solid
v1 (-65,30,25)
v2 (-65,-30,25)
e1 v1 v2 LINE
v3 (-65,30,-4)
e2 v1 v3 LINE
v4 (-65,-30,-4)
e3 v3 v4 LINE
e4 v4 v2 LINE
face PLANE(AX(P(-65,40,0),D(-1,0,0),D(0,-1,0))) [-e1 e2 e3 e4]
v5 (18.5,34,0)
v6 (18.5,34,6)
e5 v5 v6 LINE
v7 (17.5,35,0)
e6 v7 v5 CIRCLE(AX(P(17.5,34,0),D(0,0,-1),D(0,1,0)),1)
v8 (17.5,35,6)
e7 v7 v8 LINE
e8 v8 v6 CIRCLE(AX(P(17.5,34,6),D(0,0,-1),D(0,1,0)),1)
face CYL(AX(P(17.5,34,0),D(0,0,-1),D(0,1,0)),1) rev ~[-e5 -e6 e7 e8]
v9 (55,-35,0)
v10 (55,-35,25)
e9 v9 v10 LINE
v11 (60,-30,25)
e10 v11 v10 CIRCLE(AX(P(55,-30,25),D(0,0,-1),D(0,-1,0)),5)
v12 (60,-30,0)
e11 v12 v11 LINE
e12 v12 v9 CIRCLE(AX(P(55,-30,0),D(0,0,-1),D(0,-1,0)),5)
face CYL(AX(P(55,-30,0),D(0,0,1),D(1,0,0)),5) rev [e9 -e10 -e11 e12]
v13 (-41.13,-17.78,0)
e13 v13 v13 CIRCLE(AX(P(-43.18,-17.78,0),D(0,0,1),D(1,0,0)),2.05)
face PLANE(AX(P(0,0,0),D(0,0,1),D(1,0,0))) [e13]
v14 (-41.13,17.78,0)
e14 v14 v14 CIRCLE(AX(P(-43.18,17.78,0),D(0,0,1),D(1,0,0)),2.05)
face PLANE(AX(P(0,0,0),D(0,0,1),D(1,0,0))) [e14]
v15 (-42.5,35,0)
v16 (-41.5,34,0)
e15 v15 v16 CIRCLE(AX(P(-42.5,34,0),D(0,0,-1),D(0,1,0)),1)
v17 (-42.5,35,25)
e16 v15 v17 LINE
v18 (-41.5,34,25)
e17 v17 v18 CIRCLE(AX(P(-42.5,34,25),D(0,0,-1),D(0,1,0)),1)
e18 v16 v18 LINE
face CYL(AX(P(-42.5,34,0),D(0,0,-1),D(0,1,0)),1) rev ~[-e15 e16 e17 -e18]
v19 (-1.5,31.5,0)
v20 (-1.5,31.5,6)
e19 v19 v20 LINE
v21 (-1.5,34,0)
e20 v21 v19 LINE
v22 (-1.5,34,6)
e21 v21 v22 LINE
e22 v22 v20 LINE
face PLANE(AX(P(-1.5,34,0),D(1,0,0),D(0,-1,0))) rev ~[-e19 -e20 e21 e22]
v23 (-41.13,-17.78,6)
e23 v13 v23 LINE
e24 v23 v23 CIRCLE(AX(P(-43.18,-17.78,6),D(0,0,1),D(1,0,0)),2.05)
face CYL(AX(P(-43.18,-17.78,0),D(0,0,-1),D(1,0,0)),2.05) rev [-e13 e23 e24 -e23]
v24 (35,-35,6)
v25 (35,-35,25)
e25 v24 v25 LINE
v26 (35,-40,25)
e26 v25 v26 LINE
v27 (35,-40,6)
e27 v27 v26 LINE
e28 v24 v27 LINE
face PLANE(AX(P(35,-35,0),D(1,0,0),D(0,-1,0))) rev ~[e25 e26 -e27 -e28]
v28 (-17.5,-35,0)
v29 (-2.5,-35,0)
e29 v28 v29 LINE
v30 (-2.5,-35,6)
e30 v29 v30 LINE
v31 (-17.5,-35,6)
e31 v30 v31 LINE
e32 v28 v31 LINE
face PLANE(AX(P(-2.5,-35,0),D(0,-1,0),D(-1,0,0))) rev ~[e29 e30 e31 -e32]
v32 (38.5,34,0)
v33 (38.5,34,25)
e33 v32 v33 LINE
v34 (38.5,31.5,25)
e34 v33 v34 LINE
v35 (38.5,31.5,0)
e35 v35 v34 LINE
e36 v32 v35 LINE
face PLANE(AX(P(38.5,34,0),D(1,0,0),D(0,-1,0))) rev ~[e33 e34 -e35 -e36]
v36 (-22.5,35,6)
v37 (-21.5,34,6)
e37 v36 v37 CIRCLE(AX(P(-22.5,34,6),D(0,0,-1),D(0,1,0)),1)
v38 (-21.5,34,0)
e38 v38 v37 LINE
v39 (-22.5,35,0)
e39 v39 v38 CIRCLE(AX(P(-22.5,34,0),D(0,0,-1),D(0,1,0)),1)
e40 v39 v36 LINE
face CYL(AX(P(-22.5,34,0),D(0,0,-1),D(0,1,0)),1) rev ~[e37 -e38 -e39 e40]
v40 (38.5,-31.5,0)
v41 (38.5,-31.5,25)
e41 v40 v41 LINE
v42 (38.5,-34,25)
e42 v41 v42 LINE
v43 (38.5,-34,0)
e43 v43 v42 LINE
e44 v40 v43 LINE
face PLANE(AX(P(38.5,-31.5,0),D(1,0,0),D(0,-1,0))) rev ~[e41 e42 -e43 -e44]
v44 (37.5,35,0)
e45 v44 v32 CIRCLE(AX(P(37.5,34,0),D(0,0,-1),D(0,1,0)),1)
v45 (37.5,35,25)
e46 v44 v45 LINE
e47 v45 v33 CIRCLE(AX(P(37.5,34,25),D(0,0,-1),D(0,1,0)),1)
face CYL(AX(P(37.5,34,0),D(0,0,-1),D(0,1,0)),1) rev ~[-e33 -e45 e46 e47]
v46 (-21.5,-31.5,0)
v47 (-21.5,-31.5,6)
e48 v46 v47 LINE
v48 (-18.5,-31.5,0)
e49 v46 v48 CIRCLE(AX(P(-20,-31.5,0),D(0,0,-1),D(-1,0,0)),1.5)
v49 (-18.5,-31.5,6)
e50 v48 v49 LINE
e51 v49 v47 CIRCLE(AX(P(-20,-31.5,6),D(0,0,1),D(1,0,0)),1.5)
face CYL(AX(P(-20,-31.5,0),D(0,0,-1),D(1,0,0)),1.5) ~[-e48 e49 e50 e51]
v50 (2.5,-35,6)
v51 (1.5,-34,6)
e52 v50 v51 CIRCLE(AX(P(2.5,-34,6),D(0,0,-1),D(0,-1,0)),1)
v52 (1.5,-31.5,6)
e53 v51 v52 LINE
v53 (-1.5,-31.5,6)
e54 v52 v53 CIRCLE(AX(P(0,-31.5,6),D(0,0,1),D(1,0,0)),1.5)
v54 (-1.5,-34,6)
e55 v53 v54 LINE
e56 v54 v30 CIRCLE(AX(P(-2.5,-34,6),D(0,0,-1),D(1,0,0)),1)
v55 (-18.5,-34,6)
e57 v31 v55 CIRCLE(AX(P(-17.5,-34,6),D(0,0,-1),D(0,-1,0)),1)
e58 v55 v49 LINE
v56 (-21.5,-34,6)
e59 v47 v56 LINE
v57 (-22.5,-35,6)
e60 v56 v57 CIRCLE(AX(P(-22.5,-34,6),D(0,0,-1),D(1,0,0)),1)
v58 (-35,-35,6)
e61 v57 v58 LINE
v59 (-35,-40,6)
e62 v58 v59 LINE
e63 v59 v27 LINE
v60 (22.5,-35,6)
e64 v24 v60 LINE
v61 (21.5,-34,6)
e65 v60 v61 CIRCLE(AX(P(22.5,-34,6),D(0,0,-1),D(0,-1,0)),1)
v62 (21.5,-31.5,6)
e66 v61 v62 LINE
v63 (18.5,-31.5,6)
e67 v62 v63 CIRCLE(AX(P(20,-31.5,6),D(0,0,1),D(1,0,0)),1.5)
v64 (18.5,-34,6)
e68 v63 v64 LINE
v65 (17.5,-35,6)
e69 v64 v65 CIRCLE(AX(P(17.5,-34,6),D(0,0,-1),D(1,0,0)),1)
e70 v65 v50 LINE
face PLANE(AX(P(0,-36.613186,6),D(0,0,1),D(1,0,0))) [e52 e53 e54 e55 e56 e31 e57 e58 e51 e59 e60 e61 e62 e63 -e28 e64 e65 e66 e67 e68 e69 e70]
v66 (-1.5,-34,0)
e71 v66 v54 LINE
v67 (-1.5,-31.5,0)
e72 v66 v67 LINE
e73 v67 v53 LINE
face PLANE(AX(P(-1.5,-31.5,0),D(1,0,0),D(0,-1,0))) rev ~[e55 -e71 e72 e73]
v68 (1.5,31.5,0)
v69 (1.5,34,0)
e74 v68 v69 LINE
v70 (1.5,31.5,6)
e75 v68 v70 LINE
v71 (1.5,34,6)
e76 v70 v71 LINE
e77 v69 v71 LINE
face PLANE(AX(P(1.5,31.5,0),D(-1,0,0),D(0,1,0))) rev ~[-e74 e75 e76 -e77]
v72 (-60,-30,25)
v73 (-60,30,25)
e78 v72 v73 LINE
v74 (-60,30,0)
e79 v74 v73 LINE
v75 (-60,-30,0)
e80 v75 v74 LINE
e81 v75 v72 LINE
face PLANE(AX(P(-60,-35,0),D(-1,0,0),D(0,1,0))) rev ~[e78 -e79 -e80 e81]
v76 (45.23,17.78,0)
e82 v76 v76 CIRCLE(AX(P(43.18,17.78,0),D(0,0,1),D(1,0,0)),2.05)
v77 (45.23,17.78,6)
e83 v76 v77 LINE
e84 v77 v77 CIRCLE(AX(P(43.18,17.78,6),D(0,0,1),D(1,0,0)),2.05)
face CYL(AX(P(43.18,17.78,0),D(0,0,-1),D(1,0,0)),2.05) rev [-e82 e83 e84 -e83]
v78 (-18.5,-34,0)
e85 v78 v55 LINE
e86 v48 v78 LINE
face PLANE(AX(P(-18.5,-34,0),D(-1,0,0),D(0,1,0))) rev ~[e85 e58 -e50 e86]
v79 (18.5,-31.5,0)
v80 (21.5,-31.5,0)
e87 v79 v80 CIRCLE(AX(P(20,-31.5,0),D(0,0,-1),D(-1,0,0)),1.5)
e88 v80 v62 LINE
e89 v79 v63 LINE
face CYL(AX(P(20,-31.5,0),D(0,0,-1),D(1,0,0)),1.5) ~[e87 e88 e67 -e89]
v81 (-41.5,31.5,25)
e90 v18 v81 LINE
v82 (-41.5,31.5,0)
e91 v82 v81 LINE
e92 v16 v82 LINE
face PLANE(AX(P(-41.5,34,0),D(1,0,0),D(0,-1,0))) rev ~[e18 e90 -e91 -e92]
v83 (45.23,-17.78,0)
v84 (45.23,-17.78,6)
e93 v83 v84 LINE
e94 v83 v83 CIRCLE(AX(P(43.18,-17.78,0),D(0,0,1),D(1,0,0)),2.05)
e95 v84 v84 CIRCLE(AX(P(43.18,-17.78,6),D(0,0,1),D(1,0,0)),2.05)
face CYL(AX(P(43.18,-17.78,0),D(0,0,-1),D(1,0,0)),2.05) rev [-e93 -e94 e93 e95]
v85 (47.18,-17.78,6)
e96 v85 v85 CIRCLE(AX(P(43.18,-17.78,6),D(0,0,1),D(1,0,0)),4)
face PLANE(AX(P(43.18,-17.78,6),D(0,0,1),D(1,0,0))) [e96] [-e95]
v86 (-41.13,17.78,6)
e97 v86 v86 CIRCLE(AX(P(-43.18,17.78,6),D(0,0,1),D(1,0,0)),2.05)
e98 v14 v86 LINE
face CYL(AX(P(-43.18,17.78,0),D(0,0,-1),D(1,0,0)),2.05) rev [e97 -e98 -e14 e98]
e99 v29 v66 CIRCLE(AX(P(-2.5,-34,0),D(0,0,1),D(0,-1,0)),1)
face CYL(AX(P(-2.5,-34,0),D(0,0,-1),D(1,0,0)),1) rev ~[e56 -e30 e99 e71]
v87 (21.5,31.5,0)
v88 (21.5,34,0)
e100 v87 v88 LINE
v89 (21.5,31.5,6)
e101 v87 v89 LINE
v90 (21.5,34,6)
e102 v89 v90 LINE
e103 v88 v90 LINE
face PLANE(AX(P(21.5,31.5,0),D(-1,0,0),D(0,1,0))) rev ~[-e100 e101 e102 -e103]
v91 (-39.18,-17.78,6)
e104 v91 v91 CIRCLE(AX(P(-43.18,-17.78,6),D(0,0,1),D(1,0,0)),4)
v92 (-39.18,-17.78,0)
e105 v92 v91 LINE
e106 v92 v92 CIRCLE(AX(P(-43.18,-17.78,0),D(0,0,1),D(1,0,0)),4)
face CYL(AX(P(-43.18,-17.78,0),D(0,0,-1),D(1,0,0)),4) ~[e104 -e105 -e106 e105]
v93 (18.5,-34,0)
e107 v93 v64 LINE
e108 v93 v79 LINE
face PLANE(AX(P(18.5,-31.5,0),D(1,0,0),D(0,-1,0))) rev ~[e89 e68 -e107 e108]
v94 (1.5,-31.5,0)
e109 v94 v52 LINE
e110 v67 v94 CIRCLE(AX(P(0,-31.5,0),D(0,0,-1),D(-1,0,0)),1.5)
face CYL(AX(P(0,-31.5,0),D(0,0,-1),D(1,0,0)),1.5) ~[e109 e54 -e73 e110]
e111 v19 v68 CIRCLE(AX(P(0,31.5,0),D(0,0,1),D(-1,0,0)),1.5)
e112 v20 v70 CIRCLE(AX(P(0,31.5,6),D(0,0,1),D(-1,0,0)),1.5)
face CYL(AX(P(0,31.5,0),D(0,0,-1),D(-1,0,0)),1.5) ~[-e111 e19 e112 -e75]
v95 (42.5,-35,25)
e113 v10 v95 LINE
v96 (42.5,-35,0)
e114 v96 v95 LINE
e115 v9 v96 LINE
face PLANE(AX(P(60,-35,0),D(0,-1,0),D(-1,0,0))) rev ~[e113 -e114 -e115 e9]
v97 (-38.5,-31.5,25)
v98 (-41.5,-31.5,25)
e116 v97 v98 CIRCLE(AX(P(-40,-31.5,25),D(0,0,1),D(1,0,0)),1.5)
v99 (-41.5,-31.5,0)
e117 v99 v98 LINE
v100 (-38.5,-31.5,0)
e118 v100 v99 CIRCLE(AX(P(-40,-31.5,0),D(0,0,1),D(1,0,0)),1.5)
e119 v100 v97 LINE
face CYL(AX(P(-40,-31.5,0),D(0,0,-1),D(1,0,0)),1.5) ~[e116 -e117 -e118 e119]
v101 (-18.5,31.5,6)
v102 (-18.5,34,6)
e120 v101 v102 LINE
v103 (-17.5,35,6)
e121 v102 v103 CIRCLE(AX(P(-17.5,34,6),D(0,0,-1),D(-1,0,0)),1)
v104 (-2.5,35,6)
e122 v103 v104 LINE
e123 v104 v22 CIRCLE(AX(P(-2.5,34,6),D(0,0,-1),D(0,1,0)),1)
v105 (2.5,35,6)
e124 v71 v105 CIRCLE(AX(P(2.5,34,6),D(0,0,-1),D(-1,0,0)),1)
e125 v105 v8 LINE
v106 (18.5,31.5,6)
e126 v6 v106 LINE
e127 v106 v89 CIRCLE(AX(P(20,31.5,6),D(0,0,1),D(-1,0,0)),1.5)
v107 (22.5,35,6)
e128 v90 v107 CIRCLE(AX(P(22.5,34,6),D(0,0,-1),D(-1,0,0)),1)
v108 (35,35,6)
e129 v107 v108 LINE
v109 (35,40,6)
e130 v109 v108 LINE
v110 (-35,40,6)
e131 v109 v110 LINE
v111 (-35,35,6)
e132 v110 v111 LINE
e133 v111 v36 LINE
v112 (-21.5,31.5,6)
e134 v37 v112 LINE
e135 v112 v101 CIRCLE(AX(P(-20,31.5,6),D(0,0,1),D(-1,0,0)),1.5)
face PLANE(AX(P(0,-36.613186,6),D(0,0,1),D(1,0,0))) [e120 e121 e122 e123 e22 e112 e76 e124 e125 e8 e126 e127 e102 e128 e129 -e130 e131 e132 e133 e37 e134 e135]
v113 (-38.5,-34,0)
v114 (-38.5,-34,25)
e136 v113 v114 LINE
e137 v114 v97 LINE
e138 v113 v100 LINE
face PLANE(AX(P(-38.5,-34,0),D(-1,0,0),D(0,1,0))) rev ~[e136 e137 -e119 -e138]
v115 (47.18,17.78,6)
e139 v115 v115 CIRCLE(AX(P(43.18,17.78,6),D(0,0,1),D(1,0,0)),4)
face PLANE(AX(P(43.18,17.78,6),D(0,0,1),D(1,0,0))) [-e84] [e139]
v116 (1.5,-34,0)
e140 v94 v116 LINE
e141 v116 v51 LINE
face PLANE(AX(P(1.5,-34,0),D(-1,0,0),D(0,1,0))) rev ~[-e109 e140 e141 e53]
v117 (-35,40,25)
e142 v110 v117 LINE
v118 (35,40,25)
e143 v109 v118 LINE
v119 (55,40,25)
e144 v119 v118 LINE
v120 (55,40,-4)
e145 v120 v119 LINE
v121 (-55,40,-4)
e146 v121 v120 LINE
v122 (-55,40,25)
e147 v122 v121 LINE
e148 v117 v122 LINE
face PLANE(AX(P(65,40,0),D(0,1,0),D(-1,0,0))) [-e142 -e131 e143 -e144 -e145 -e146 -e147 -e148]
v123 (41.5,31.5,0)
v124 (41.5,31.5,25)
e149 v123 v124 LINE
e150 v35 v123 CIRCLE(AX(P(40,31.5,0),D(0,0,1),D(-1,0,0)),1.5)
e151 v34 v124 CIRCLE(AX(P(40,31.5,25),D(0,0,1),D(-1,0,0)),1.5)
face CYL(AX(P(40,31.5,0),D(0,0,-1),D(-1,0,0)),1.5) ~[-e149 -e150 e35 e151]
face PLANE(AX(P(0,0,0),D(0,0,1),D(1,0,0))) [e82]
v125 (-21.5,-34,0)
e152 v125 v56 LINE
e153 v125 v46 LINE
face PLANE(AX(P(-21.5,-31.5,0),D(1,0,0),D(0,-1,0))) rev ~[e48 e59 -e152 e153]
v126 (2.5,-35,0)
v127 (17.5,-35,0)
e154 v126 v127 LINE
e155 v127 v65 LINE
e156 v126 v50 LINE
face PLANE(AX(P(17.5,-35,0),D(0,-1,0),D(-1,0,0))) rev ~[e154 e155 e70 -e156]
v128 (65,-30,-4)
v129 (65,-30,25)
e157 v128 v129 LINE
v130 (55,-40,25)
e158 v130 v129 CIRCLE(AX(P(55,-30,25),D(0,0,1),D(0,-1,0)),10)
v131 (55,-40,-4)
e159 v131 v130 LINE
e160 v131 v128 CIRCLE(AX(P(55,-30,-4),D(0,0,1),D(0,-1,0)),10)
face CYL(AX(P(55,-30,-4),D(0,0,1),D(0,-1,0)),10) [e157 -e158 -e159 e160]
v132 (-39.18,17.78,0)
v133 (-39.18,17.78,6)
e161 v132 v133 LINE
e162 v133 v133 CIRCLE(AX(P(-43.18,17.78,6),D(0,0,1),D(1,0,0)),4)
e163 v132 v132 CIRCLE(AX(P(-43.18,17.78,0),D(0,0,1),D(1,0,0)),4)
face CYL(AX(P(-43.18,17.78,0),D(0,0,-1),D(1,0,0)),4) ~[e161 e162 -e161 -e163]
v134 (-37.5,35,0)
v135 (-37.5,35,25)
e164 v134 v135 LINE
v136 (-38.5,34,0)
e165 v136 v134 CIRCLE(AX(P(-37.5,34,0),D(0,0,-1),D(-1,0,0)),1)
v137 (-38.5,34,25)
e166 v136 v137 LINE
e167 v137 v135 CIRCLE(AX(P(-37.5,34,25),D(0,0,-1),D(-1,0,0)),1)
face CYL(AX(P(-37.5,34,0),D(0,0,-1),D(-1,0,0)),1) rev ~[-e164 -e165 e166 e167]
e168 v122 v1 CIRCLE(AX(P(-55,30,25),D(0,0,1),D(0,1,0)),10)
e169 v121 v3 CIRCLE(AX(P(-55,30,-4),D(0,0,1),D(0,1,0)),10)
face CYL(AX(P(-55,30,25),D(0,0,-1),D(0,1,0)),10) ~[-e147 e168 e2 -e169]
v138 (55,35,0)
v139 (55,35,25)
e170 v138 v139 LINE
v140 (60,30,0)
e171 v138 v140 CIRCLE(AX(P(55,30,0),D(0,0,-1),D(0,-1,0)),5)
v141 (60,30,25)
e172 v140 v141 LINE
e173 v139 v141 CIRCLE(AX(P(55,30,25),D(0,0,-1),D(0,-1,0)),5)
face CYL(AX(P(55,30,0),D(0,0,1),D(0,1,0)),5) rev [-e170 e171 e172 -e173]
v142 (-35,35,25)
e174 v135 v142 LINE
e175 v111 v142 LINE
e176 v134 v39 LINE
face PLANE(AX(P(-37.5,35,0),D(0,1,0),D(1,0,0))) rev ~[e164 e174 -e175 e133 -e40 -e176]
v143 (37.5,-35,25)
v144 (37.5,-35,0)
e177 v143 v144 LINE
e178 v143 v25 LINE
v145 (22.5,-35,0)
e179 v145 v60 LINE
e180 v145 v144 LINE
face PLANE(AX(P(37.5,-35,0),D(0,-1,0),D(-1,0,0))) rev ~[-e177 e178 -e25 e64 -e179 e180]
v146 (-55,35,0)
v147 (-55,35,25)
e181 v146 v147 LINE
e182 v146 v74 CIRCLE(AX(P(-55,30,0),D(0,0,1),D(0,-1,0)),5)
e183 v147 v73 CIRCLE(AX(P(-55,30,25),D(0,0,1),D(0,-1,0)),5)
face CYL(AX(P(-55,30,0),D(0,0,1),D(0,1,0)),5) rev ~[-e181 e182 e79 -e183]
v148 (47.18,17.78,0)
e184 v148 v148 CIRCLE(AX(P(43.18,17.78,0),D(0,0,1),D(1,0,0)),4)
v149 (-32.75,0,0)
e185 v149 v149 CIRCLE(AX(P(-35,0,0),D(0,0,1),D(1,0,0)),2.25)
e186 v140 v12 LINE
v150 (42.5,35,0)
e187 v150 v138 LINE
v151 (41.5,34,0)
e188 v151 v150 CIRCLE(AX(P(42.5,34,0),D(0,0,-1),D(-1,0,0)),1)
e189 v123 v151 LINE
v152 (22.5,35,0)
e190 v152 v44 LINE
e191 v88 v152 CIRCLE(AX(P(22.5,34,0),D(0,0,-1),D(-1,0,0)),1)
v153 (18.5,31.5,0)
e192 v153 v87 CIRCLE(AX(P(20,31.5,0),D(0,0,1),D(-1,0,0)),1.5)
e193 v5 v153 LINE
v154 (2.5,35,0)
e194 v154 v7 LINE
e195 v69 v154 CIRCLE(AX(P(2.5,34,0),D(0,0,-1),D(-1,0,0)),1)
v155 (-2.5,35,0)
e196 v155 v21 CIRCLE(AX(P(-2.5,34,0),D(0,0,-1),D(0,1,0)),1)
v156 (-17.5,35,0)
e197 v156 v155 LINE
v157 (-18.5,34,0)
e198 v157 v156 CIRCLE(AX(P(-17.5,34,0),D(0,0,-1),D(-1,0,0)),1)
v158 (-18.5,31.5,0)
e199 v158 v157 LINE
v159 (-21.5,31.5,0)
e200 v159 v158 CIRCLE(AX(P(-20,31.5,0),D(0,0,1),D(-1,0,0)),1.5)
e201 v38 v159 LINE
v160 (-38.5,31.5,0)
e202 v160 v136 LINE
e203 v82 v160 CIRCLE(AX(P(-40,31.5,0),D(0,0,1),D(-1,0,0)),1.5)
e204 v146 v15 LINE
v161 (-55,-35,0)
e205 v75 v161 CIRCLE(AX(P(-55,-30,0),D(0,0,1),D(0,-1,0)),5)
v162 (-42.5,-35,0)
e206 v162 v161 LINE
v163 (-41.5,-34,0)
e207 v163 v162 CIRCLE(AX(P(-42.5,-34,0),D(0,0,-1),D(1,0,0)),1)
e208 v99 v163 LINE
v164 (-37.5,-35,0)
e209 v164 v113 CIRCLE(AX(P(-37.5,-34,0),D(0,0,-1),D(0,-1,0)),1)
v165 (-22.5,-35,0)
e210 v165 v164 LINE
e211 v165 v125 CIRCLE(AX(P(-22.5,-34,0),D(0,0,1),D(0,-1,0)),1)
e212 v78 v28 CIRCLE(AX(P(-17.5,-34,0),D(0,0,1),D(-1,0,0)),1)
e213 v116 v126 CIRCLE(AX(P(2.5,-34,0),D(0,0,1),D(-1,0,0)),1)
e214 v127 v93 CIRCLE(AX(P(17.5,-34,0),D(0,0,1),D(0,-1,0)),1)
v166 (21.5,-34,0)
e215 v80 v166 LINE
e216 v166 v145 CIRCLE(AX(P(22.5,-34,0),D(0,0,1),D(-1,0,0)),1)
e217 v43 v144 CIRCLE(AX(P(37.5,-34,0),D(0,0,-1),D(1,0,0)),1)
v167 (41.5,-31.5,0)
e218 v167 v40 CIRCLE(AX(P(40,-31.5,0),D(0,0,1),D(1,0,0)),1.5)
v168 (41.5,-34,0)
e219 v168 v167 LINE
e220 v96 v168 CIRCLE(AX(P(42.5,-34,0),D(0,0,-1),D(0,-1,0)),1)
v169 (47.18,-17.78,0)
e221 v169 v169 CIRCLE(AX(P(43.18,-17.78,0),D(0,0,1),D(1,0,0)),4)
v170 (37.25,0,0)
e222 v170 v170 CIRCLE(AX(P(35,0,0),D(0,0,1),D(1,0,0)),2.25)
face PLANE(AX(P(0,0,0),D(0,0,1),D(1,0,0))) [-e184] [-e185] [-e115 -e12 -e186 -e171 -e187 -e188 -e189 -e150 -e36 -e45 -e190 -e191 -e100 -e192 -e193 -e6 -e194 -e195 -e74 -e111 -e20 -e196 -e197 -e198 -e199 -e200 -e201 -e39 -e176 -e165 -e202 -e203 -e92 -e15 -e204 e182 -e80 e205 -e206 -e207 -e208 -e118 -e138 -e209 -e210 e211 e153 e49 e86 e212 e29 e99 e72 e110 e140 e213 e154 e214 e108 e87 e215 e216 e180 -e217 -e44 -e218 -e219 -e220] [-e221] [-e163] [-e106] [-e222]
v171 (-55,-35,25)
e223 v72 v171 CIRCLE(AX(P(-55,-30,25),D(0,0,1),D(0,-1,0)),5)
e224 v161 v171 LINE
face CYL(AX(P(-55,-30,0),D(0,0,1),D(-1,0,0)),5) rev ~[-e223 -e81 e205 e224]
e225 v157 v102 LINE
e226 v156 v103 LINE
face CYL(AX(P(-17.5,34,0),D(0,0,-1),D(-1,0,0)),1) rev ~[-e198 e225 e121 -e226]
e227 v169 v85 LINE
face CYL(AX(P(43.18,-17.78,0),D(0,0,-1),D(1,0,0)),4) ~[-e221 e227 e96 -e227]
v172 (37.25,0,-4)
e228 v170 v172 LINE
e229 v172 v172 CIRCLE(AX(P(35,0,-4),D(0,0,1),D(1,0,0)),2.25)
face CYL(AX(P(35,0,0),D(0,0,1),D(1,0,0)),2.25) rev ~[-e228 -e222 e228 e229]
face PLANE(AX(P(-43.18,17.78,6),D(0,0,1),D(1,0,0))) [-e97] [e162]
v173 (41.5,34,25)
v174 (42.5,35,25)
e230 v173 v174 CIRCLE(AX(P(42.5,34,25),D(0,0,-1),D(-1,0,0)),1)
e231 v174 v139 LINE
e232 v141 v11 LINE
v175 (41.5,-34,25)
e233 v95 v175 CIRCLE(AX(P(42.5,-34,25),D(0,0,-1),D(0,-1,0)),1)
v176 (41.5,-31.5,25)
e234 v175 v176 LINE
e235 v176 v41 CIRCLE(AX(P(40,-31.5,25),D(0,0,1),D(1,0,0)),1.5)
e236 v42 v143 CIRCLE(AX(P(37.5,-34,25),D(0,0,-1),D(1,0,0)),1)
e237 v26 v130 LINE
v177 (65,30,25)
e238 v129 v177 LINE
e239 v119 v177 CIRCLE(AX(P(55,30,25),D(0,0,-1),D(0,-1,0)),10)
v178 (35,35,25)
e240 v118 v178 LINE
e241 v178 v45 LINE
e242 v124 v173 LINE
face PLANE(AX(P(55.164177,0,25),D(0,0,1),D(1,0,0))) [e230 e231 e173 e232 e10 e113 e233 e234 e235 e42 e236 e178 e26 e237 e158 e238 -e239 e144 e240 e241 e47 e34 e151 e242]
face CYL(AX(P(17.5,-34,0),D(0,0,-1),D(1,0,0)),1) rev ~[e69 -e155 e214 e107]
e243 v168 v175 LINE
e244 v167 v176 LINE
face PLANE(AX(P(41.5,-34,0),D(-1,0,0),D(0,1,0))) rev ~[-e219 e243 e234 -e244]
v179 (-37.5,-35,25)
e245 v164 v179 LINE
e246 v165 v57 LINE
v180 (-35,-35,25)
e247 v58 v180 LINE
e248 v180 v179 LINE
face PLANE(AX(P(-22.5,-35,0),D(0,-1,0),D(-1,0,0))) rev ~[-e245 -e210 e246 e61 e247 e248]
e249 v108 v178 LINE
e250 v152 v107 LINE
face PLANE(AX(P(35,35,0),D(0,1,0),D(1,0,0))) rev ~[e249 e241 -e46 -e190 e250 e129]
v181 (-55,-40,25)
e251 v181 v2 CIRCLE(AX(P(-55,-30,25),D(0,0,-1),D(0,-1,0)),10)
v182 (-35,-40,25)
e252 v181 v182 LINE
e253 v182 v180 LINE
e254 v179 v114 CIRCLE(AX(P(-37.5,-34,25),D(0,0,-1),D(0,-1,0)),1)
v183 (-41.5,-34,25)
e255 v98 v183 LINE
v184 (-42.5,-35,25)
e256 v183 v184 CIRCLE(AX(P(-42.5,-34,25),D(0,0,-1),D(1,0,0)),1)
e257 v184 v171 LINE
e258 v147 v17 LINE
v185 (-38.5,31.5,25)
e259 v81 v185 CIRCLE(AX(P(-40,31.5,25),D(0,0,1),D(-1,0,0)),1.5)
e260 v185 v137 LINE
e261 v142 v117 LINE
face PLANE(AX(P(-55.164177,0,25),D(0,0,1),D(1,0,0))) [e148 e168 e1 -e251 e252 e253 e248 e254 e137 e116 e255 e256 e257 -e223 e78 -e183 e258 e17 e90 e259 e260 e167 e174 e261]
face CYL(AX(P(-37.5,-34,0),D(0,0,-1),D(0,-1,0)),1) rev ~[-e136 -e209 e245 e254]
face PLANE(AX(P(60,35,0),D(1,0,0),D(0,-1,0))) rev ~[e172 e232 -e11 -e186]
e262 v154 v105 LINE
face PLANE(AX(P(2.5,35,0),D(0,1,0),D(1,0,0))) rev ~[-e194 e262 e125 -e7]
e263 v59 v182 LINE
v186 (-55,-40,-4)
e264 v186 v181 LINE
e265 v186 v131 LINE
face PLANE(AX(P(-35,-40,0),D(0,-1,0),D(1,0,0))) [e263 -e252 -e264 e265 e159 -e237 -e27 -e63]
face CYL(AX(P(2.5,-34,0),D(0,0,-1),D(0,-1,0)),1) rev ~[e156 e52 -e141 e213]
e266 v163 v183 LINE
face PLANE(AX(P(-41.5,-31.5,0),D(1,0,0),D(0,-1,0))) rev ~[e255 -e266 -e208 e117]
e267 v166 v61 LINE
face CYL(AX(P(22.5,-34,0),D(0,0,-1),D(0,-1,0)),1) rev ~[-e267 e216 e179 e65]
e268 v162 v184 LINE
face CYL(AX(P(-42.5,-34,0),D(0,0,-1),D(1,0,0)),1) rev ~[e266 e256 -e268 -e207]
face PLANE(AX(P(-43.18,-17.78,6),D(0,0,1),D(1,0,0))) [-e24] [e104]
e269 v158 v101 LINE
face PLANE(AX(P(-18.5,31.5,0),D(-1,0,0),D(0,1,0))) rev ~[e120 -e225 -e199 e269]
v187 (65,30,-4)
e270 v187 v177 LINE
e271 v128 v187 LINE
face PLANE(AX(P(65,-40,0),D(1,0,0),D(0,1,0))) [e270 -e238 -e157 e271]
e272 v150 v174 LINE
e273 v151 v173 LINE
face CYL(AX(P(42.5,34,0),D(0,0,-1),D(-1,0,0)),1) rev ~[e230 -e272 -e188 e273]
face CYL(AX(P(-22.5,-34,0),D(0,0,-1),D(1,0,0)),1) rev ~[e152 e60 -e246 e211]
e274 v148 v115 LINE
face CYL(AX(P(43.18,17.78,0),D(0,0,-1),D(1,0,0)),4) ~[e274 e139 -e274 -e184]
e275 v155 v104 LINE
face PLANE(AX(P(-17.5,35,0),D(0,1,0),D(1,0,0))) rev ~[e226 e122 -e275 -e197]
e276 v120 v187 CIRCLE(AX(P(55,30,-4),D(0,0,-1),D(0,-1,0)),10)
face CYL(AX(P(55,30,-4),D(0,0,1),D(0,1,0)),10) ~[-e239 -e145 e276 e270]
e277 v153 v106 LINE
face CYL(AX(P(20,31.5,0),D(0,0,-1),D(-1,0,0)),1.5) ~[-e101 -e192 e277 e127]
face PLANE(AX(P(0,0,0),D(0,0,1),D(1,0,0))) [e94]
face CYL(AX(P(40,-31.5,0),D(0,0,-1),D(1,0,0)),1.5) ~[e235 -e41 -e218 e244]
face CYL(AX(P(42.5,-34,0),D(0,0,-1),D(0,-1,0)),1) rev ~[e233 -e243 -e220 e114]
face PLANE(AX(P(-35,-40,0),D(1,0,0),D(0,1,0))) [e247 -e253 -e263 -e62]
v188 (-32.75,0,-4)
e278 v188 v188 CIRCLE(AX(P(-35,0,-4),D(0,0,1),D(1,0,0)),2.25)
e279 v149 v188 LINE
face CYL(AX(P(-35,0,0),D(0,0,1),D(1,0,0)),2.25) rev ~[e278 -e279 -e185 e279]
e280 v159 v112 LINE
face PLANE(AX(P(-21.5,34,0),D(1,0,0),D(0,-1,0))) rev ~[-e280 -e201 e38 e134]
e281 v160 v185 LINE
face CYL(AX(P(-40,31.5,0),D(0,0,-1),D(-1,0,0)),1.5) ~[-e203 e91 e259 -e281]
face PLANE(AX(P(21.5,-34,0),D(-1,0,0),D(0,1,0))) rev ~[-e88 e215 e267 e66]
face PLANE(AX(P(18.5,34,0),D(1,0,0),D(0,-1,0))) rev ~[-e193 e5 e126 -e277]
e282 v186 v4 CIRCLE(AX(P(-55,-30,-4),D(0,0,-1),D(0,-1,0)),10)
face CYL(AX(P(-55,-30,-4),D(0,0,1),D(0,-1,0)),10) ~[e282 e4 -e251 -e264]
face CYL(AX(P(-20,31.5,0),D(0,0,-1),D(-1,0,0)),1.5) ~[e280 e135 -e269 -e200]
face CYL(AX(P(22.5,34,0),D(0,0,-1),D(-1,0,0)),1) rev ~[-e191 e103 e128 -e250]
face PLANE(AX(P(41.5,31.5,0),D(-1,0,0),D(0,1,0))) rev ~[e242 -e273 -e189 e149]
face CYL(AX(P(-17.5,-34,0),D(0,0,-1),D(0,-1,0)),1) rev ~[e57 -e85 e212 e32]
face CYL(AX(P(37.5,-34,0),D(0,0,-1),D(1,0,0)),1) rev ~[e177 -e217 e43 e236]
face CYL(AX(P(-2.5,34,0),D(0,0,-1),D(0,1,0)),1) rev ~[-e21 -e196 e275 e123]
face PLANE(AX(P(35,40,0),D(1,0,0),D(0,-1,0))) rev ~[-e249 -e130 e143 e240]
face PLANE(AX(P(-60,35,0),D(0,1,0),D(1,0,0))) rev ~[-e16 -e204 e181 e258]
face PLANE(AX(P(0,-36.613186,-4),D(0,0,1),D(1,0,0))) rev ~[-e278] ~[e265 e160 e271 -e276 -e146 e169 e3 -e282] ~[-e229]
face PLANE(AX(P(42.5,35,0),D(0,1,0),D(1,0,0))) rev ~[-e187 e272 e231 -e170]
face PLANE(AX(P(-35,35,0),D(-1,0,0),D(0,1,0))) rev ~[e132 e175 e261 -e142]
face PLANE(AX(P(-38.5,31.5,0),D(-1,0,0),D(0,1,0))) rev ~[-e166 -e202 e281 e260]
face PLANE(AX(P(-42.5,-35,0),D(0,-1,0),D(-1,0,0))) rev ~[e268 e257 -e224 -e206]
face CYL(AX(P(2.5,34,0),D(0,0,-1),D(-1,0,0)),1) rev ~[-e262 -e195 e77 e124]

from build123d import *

# Parameters (mm, degrees)
F1_DEPTH      = 25
F0_R          = 4
F0_R_2        = 2.25
F0_R_3        = 2.05
F2_DEPTH      = 4
F3_DEPTH      = 6
F4_DEPTH      = 6
F4_DEPTH_BACK = 4
F5_R          = 10
F6_R          = 5


with BuildPart() as f1:
    # F0 (on Top) → F1 (new body)
    with BuildSketch(Plane.XY):
        with BuildLine():
            ThreePointArc((-38.5, 34), (-38.2071067812, 34.7071067812), (-37.5, 35))
            Line((-37.5, 35), (-35, 35))
            Line((-35, 35), (-35, 40))
            Line((-35, 40), (-65, 40))
            Line((-65, 40), (-65, -40))
            Line((-65, -40), (-35, -40))
            Line((-35, -40), (-35, -35))
            Line((-35, -35), (-37.5, -35))
            ThreePointArc((-37.5, -35), (-38.2071067812, -34.7071067812), (-38.5, -34))
            Line((-38.5, -34), (-38.5, -31.5))
            ThreePointArc((-38.5, -31.5), (-40, -30), (-41.5, -31.5))
            Line((-41.5, -31.5), (-41.5, -34))
            ThreePointArc((-41.5, -34), (-41.7928932188, -34.7071067812), (-42.5, -35))
            Line((-42.5, -35), (-60, -35))
            Line((-60, -35), (-60, 35))
            Line((-60, 35), (-42.5, 35))
            ThreePointArc((-42.5, 35), (-41.7928932188, 34.7071067812), (-41.5, 34))
            Line((-41.5, 34), (-41.5, 31.5))
            ThreePointArc((-41.5, 31.5), (-40, 30), (-38.5, 31.5))
            Line((-38.5, 31.5), (-38.5, 34))
        make_face()
    extrude(amount=F1_DEPTH)



with BuildPart() as f1b:
    # F0 (on Top) → F1, piece 2 (new body)
    with BuildSketch(Plane.XY):
        with BuildLine():
            Line((65, 40), (35, 40))
            Line((35, 40), (35, 35))
            Line((35, 35), (37.5, 35))
            ThreePointArc((37.5, 35), (38.2071067812, 34.7071067812), (38.5, 34))
            Line((38.5, 34), (38.5, 31.5))
            ThreePointArc((38.5, 31.5), (40, 30), (41.5, 31.5))
            Line((41.5, 31.5), (41.5, 34))
            ThreePointArc((41.5, 34), (41.7928932188, 34.7071067812), (42.5, 35))
            Line((42.5, 35), (60, 35))
            Line((60, 35), (60, -35))
            Line((60, -35), (42.5, -35))
            ThreePointArc((42.5, -35), (41.7928932188, -34.7071067812), (41.5, -34))
            Line((41.5, -34), (41.5, -31.5))
            ThreePointArc((41.5, -31.5), (40, -30), (38.5, -31.5))
            Line((38.5, -31.5), (38.5, -34))
            ThreePointArc((38.5, -34), (38.2071067812, -34.7071067812), (37.5, -35))
            Line((37.5, -35), (35, -35))
            Line((35, -35), (35, -40))
            Line((35, -40), (65, -40))
            Line((65, -40), (65, 40))
        make_face()
    extrude(amount=F1_DEPTH)


with BuildPart() as f1_1:
    add(f1.part)

    add(f1b.part)  # F2 merges F1b
    # F0 (on Top) → F2 (join)
    with BuildSketch(Plane.XY):
        with BuildLine():
            Line((-35, 35), (-37.5, 35))
            ThreePointArc((-37.5, 35), (-38.2071067812, 34.7071067812), (-38.5, 34))
            Line((-38.5, 34), (-38.5, 31.5))
            ThreePointArc((-38.5, 31.5), (-40, 30), (-41.5, 31.5))
            Line((-41.5, 31.5), (-41.5, 34))
            ThreePointArc((-41.5, 34), (-41.7928932188, 34.7071067812), (-42.5, 35))
            Line((-42.5, 35), (-60, 35))
            Line((-60, 35), (-60, -35))
            Line((-60, -35), (-42.5, -35))
            ThreePointArc((-42.5, -35), (-41.7928932188, -34.7071067812), (-41.5, -34))
            Line((-41.5, -34), (-41.5, -31.5))
            ThreePointArc((-41.5, -31.5), (-40, -30), (-38.5, -31.5))
            Line((-38.5, -31.5), (-38.5, -34))
            ThreePointArc((-38.5, -34), (-38.2071067812, -34.7071067812), (-37.5, -35))
            Line((-37.5, -35), (-35, -35))
            Line((-35, -35), (-22.5, -35))
            ThreePointArc((-22.5, -35), (-21.7928932188, -34.7071067812), (-21.5, -34))
            Line((-21.5, -34), (-21.5, -31.5))
            ThreePointArc((-21.5, -31.5), (-20, -30), (-18.5, -31.5))
            Line((-18.5, -31.5), (-18.5, -34))
            ThreePointArc((-18.5, -34), (-18.2071067812, -34.7071067812), (-17.5, -35))
            Line((-17.5, -35), (-2.5, -35))
            ThreePointArc((-2.5, -35), (-1.7928932188, -34.7071067812), (-1.5, -34))
            Line((-1.5, -34), (-1.5, -31.5))
            ThreePointArc((-1.5, -31.5), (0, -30), (1.5, -31.5))
            Line((1.5, -31.5), (1.5, -34))
            ThreePointArc((1.5, -34), (1.7928932188, -34.7071067812), (2.5, -35))
            Line((2.5, -35), (17.5, -35))
            ThreePointArc((17.5, -35), (18.2071067812, -34.7071067812), (18.5, -34))
            Line((18.5, -34), (18.5, -31.5))
            ThreePointArc((18.5, -31.5), (20, -30), (21.5, -31.5))
            Line((21.5, -31.5), (21.5, -34))
            ThreePointArc((21.5, -34), (21.7928932188, -34.7071067812), (22.5, -35))
            Line((22.5, -35), (35, -35))
            Line((35, -35), (37.5, -35))
            ThreePointArc((37.5, -35), (38.2071067812, -34.7071067812), (38.5, -34))
            Line((38.5, -34), (38.5, -31.5))
            ThreePointArc((38.5, -31.5), (40, -30), (41.5, -31.5))
            Line((41.5, -31.5), (41.5, -34))
            ThreePointArc((41.5, -34), (41.7928932188, -34.7071067812), (42.5, -35))
            Line((42.5, -35), (60, -35))
            Line((60, -35), (60, 35))
            Line((60, 35), (42.5, 35))
            ThreePointArc((42.5, 35), (41.7928932188, 34.7071067812), (41.5, 34))
            Line((41.5, 34), (41.5, 31.5))
            ThreePointArc((41.5, 31.5), (40, 30), (38.5, 31.5))
            Line((38.5, 31.5), (38.5, 34))
            ThreePointArc((38.5, 34), (38.2071067812, 34.7071067812), (37.5, 35))
            Line((37.5, 35), (35, 35))
            Line((35, 35), (22.5, 35))
            ThreePointArc((22.5, 35), (21.7928932188, 34.7071067812), (21.5, 34))
            Line((21.5, 34), (21.5, 31.5))
            ThreePointArc((21.5, 31.5), (20, 30), (18.5, 31.5))
            Line((18.5, 31.5), (18.5, 34))
            ThreePointArc((18.5, 34), (18.2071067812, 34.7071067812), (17.5, 35))
            Line((17.5, 35), (2.5, 35))
            ThreePointArc((2.5, 35), (1.7928932188, 34.7071067812), (1.5, 34))
            Line((1.5, 34), (1.5, 31.5))
            ThreePointArc((1.5, 31.5), (0, 30), (-1.5, 31.5))
            Line((-1.5, 31.5), (-1.5, 34))
            ThreePointArc((-1.5, 34), (-1.7928932188, 34.7071067812), (-2.5, 35))
            Line((-2.5, 35), (-17.5, 35))
            ThreePointArc((-17.5, 35), (-18.2071067812, 34.7071067812), (-18.5, 34))
            Line((-18.5, 34), (-18.5, 31.5))
            ThreePointArc((-18.5, 31.5), (-20, 30), (-21.5, 31.5))
            Line((-21.5, 31.5), (-21.5, 34))
            ThreePointArc((-21.5, 34), (-21.7928932188, 34.7071067812), (-22.5, 35))
            Line((-22.5, 35), (-35, 35))
        make_face()
        with Locations((-43.18, -17.78)):
            Circle(F0_R, mode=Mode.SUBTRACT)
        with Locations((43.18, -17.78)):
            Circle(F0_R, mode=Mode.SUBTRACT)
        with Locations((-35, 0)):
            Circle(F0_R_2, mode=Mode.SUBTRACT)
        with Locations((-43.18, 17.78)):
            Circle(F0_R, mode=Mode.SUBTRACT)
        with Locations((35, 0)):
            Circle(F0_R_2, mode=Mode.SUBTRACT)
        with Locations((43.18, 17.78)):
            Circle(F0_R, mode=Mode.SUBTRACT)
        with BuildLine():
            ThreePointArc((-38.5, 34), (-38.2071067812, 34.7071067812), (-37.5, 35))
            Line((-37.5, 35), (-35, 35))
            Line((-35, 35), (-35, 40))
            Line((-35, 40), (-65, 40))
            Line((-65, 40), (-65, -40))
            Line((-65, -40), (-35, -40))
            Line((-35, -40), (-35, -35))
            Line((-35, -35), (-37.5, -35))
            ThreePointArc((-37.5, -35), (-38.2071067812, -34.7071067812), (-38.5, -34))
            Line((-38.5, -34), (-38.5, -31.5))
            ThreePointArc((-38.5, -31.5), (-40, -30), (-41.5, -31.5))
            Line((-41.5, -31.5), (-41.5, -34))
            ThreePointArc((-41.5, -34), (-41.7928932188, -34.7071067812), (-42.5, -35))
            Line((-42.5, -35), (-60, -35))
            Line((-60, -35), (-60, 35))
            Line((-60, 35), (-42.5, 35))
            ThreePointArc((-42.5, 35), (-41.7928932188, 34.7071067812), (-41.5, 34))
            Line((-41.5, 34), (-41.5, 31.5))
            ThreePointArc((-41.5, 31.5), (-40, 30), (-38.5, 31.5))
            Line((-38.5, 31.5), (-38.5, 34))
        make_face()
        with BuildLine():
            Line((-35, 40), (-35, 35))
            Line((-35, 35), (-22.5, 35))
            ThreePointArc((-22.5, 35), (-21.7928932188, 34.7071067812), (-21.5, 34))
            Line((-21.5, 34), (-21.5, 31.5))
            ThreePointArc((-21.5, 31.5), (-20, 30), (-18.5, 31.5))
            Line((-18.5, 31.5), (-18.5, 34))
            ThreePointArc((-18.5, 34), (-18.2071067812, 34.7071067812), (-17.5, 35))
            Line((-17.5, 35), (-2.5, 35))
            ThreePointArc((-2.5, 35), (-1.7928932188, 34.7071067812), (-1.5, 34))
            Line((-1.5, 34), (-1.5, 31.5))
            ThreePointArc((-1.5, 31.5), (0, 30), (1.5, 31.5))
            Line((1.5, 31.5), (1.5, 34))
            ThreePointArc((1.5, 34), (1.7928932188, 34.7071067812), (2.5, 35))
            Line((2.5, 35), (17.5, 35))
            ThreePointArc((17.5, 35), (18.2071067812, 34.7071067812), (18.5, 34))
            Line((18.5, 34), (18.5, 31.5))
            ThreePointArc((18.5, 31.5), (20, 30), (21.5, 31.5))
            Line((21.5, 31.5), (21.5, 34))
            ThreePointArc((21.5, 34), (21.7928932188, 34.7071067812), (22.5, 35))
            Line((22.5, 35), (35, 35))
            Line((35, 35), (35, 40))
            Line((35, 40), (-35, 40))
        make_face()
        with Locations((43.18, 17.78)):
            Circle(F0_R)
        with Locations((43.18, 17.78)):
            Circle(F0_R_3, mode=Mode.SUBTRACT)
        with Locations((-43.18, -17.78)):
            Circle(F0_R)
        with Locations((-43.18, -17.78)):
            Circle(F0_R_3, mode=Mode.SUBTRACT)
        with Locations((43.18, -17.78)):
            Circle(F0_R)
        with Locations((43.18, -17.78)):
            Circle(F0_R_3, mode=Mode.SUBTRACT)
        with Locations((-43.18, 17.78)):
            Circle(F0_R)
        with Locations((-43.18, 17.78)):
            Circle(F0_R_3, mode=Mode.SUBTRACT)
        with Locations((-43.18, -17.78)):
            Circle(F0_R_3)
        with Locations((43.18, -17.78)):
            Circle(F0_R_3)
        with Locations((43.18, 17.78)):
            Circle(F0_R_3)
        with Locations((-43.18, 17.78)):
            Circle(F0_R_3)
    extrude(amount=-F2_DEPTH)

    # F0 (on Top) → F3 (join)
    with BuildSketch(Plane.XY):
        with Locations((-43.18, 17.78)):
            Circle(F0_R)
        with Locations((-43.18, 17.78)):
            Circle(F0_R_3, mode=Mode.SUBTRACT)
        with Locations((43.18, 17.78)):
            Circle(F0_R)
        with Locations((43.18, 17.78)):
            Circle(F0_R_3, mode=Mode.SUBTRACT)
        with Locations((-43.18, -17.78)):
            Circle(F0_R)
        with Locations((-43.18, -17.78)):
            Circle(F0_R_3, mode=Mode.SUBTRACT)
        with Locations((43.18, -17.78)):
            Circle(F0_R)
        with Locations((43.18, -17.78)):
            Circle(F0_R_3, mode=Mode.SUBTRACT)
    extrude(amount=F3_DEPTH)

    # F0 (on Top) → F4 (join, two sides)
    with BuildSketch(Plane.XY) as f4_sk:
        with BuildLine():
            Line((-35, -35), (-35, -40))
            Line((-35, -40), (35, -40))
            Line((35, -40), (35, -35))
            Line((35, -35), (22.5, -35))
            ThreePointArc((22.5, -35), (21.7928932188, -34.7071067812), (21.5, -34))
            Line((21.5, -34), (21.5, -31.5))
            ThreePointArc((21.5, -31.5), (20, -30), (18.5, -31.5))
            Line((18.5, -31.5), (18.5, -34))
            ThreePointArc((18.5, -34), (18.2071067812, -34.7071067812), (17.5, -35))
            Line((17.5, -35), (2.5, -35))
            ThreePointArc((2.5, -35), (1.7928932188, -34.7071067812), (1.5, -34))
            Line((1.5, -34), (1.5, -31.5))
            ThreePointArc((1.5, -31.5), (0, -30), (-1.5, -31.5))
            Line((-1.5, -31.5), (-1.5, -34))
            ThreePointArc((-1.5, -34), (-1.7928932188, -34.7071067812), (-2.5, -35))
            Line((-2.5, -35), (-17.5, -35))
            ThreePointArc((-17.5, -35), (-18.2071067812, -34.7071067812), (-18.5, -34))
            Line((-18.5, -34), (-18.5, -31.5))
            ThreePointArc((-18.5, -31.5), (-20, -30), (-21.5, -31.5))
            Line((-21.5, -31.5), (-21.5, -34))
            ThreePointArc((-21.5, -34), (-21.7928932188, -34.7071067812), (-22.5, -35))
            Line((-22.5, -35), (-35, -35))
        make_face()
        with BuildLine():
            Line((65, 40), (35, 40))
            Line((35, 40), (35, 35))
            Line((35, 35), (37.5, 35))
            ThreePointArc((37.5, 35), (38.2071067812, 34.7071067812), (38.5, 34))
            Line((38.5, 34), (38.5, 31.5))
            ThreePointArc((38.5, 31.5), (40, 30), (41.5, 31.5))
            Line((41.5, 31.5), (41.5, 34))
            ThreePointArc((41.5, 34), (41.7928932188, 34.7071067812), (42.5, 35))
            Line((42.5, 35), (60, 35))
            Line((60, 35), (60, -35))
            Line((60, -35), (42.5, -35))
            ThreePointArc((42.5, -35), (41.7928932188, -34.7071067812), (41.5, -34))
            Line((41.5, -34), (41.5, -31.5))
            ThreePointArc((41.5, -31.5), (40, -30), (38.5, -31.5))
            Line((38.5, -31.5), (38.5, -34))
            ThreePointArc((38.5, -34), (38.2071067812, -34.7071067812), (37.5, -35))
            Line((37.5, -35), (35, -35))
            Line((35, -35), (35, -40))
            Line((35, -40), (65, -40))
            Line((65, -40), (65, 40))
        make_face()
        with BuildLine():
            Line((-35, 40), (-35, 35))
            Line((-35, 35), (-22.5, 35))
            ThreePointArc((-22.5, 35), (-21.7928932188, 34.7071067812), (-21.5, 34))
            Line((-21.5, 34), (-21.5, 31.5))
            ThreePointArc((-21.5, 31.5), (-20, 30), (-18.5, 31.5))
            Line((-18.5, 31.5), (-18.5, 34))
            ThreePointArc((-18.5, 34), (-18.2071067812, 34.7071067812), (-17.5, 35))
            Line((-17.5, 35), (-2.5, 35))
            ThreePointArc((-2.5, 35), (-1.7928932188, 34.7071067812), (-1.5, 34))
            Line((-1.5, 34), (-1.5, 31.5))
            ThreePointArc((-1.5, 31.5), (0, 30), (1.5, 31.5))
            Line((1.5, 31.5), (1.5, 34))
            ThreePointArc((1.5, 34), (1.7928932188, 34.7071067812), (2.5, 35))
            Line((2.5, 35), (17.5, 35))
            ThreePointArc((17.5, 35), (18.2071067812, 34.7071067812), (18.5, 34))
            Line((18.5, 34), (18.5, 31.5))
            ThreePointArc((18.5, 31.5), (20, 30), (21.5, 31.5))
            Line((21.5, 31.5), (21.5, 34))
            ThreePointArc((21.5, 34), (21.7928932188, 34.7071067812), (22.5, 35))
            Line((22.5, 35), (35, 35))
            Line((35, 35), (35, 40))
            Line((35, 40), (-35, 40))
        make_face()
    extrude(amount=F4_DEPTH)
    extrude(f4_sk.sketch, amount=-F4_DEPTH_BACK)

    # F5
    f5_edges = [f1_1.edges().sort_by_distance(p)[0] for p in [
        (-65, -40, 10.5),
        (-65, 40, 10.5),
        (65, -40, 10.5),
        (65, 40, 10.5),
    ]]
    fillet(f5_edges, radius=F5_R)

    # F6
    f6_edges = [f1_1.edges().sort_by_distance(p)[0] for p in [
        (-60, 35, 12.5),
        (60, 35, 12.5),
        (60, -35, 12.5),
        (-60, -35, 12.5),
    ]]
    fillet(f6_edges, radius=F6_R)


solid = f1_1.part
